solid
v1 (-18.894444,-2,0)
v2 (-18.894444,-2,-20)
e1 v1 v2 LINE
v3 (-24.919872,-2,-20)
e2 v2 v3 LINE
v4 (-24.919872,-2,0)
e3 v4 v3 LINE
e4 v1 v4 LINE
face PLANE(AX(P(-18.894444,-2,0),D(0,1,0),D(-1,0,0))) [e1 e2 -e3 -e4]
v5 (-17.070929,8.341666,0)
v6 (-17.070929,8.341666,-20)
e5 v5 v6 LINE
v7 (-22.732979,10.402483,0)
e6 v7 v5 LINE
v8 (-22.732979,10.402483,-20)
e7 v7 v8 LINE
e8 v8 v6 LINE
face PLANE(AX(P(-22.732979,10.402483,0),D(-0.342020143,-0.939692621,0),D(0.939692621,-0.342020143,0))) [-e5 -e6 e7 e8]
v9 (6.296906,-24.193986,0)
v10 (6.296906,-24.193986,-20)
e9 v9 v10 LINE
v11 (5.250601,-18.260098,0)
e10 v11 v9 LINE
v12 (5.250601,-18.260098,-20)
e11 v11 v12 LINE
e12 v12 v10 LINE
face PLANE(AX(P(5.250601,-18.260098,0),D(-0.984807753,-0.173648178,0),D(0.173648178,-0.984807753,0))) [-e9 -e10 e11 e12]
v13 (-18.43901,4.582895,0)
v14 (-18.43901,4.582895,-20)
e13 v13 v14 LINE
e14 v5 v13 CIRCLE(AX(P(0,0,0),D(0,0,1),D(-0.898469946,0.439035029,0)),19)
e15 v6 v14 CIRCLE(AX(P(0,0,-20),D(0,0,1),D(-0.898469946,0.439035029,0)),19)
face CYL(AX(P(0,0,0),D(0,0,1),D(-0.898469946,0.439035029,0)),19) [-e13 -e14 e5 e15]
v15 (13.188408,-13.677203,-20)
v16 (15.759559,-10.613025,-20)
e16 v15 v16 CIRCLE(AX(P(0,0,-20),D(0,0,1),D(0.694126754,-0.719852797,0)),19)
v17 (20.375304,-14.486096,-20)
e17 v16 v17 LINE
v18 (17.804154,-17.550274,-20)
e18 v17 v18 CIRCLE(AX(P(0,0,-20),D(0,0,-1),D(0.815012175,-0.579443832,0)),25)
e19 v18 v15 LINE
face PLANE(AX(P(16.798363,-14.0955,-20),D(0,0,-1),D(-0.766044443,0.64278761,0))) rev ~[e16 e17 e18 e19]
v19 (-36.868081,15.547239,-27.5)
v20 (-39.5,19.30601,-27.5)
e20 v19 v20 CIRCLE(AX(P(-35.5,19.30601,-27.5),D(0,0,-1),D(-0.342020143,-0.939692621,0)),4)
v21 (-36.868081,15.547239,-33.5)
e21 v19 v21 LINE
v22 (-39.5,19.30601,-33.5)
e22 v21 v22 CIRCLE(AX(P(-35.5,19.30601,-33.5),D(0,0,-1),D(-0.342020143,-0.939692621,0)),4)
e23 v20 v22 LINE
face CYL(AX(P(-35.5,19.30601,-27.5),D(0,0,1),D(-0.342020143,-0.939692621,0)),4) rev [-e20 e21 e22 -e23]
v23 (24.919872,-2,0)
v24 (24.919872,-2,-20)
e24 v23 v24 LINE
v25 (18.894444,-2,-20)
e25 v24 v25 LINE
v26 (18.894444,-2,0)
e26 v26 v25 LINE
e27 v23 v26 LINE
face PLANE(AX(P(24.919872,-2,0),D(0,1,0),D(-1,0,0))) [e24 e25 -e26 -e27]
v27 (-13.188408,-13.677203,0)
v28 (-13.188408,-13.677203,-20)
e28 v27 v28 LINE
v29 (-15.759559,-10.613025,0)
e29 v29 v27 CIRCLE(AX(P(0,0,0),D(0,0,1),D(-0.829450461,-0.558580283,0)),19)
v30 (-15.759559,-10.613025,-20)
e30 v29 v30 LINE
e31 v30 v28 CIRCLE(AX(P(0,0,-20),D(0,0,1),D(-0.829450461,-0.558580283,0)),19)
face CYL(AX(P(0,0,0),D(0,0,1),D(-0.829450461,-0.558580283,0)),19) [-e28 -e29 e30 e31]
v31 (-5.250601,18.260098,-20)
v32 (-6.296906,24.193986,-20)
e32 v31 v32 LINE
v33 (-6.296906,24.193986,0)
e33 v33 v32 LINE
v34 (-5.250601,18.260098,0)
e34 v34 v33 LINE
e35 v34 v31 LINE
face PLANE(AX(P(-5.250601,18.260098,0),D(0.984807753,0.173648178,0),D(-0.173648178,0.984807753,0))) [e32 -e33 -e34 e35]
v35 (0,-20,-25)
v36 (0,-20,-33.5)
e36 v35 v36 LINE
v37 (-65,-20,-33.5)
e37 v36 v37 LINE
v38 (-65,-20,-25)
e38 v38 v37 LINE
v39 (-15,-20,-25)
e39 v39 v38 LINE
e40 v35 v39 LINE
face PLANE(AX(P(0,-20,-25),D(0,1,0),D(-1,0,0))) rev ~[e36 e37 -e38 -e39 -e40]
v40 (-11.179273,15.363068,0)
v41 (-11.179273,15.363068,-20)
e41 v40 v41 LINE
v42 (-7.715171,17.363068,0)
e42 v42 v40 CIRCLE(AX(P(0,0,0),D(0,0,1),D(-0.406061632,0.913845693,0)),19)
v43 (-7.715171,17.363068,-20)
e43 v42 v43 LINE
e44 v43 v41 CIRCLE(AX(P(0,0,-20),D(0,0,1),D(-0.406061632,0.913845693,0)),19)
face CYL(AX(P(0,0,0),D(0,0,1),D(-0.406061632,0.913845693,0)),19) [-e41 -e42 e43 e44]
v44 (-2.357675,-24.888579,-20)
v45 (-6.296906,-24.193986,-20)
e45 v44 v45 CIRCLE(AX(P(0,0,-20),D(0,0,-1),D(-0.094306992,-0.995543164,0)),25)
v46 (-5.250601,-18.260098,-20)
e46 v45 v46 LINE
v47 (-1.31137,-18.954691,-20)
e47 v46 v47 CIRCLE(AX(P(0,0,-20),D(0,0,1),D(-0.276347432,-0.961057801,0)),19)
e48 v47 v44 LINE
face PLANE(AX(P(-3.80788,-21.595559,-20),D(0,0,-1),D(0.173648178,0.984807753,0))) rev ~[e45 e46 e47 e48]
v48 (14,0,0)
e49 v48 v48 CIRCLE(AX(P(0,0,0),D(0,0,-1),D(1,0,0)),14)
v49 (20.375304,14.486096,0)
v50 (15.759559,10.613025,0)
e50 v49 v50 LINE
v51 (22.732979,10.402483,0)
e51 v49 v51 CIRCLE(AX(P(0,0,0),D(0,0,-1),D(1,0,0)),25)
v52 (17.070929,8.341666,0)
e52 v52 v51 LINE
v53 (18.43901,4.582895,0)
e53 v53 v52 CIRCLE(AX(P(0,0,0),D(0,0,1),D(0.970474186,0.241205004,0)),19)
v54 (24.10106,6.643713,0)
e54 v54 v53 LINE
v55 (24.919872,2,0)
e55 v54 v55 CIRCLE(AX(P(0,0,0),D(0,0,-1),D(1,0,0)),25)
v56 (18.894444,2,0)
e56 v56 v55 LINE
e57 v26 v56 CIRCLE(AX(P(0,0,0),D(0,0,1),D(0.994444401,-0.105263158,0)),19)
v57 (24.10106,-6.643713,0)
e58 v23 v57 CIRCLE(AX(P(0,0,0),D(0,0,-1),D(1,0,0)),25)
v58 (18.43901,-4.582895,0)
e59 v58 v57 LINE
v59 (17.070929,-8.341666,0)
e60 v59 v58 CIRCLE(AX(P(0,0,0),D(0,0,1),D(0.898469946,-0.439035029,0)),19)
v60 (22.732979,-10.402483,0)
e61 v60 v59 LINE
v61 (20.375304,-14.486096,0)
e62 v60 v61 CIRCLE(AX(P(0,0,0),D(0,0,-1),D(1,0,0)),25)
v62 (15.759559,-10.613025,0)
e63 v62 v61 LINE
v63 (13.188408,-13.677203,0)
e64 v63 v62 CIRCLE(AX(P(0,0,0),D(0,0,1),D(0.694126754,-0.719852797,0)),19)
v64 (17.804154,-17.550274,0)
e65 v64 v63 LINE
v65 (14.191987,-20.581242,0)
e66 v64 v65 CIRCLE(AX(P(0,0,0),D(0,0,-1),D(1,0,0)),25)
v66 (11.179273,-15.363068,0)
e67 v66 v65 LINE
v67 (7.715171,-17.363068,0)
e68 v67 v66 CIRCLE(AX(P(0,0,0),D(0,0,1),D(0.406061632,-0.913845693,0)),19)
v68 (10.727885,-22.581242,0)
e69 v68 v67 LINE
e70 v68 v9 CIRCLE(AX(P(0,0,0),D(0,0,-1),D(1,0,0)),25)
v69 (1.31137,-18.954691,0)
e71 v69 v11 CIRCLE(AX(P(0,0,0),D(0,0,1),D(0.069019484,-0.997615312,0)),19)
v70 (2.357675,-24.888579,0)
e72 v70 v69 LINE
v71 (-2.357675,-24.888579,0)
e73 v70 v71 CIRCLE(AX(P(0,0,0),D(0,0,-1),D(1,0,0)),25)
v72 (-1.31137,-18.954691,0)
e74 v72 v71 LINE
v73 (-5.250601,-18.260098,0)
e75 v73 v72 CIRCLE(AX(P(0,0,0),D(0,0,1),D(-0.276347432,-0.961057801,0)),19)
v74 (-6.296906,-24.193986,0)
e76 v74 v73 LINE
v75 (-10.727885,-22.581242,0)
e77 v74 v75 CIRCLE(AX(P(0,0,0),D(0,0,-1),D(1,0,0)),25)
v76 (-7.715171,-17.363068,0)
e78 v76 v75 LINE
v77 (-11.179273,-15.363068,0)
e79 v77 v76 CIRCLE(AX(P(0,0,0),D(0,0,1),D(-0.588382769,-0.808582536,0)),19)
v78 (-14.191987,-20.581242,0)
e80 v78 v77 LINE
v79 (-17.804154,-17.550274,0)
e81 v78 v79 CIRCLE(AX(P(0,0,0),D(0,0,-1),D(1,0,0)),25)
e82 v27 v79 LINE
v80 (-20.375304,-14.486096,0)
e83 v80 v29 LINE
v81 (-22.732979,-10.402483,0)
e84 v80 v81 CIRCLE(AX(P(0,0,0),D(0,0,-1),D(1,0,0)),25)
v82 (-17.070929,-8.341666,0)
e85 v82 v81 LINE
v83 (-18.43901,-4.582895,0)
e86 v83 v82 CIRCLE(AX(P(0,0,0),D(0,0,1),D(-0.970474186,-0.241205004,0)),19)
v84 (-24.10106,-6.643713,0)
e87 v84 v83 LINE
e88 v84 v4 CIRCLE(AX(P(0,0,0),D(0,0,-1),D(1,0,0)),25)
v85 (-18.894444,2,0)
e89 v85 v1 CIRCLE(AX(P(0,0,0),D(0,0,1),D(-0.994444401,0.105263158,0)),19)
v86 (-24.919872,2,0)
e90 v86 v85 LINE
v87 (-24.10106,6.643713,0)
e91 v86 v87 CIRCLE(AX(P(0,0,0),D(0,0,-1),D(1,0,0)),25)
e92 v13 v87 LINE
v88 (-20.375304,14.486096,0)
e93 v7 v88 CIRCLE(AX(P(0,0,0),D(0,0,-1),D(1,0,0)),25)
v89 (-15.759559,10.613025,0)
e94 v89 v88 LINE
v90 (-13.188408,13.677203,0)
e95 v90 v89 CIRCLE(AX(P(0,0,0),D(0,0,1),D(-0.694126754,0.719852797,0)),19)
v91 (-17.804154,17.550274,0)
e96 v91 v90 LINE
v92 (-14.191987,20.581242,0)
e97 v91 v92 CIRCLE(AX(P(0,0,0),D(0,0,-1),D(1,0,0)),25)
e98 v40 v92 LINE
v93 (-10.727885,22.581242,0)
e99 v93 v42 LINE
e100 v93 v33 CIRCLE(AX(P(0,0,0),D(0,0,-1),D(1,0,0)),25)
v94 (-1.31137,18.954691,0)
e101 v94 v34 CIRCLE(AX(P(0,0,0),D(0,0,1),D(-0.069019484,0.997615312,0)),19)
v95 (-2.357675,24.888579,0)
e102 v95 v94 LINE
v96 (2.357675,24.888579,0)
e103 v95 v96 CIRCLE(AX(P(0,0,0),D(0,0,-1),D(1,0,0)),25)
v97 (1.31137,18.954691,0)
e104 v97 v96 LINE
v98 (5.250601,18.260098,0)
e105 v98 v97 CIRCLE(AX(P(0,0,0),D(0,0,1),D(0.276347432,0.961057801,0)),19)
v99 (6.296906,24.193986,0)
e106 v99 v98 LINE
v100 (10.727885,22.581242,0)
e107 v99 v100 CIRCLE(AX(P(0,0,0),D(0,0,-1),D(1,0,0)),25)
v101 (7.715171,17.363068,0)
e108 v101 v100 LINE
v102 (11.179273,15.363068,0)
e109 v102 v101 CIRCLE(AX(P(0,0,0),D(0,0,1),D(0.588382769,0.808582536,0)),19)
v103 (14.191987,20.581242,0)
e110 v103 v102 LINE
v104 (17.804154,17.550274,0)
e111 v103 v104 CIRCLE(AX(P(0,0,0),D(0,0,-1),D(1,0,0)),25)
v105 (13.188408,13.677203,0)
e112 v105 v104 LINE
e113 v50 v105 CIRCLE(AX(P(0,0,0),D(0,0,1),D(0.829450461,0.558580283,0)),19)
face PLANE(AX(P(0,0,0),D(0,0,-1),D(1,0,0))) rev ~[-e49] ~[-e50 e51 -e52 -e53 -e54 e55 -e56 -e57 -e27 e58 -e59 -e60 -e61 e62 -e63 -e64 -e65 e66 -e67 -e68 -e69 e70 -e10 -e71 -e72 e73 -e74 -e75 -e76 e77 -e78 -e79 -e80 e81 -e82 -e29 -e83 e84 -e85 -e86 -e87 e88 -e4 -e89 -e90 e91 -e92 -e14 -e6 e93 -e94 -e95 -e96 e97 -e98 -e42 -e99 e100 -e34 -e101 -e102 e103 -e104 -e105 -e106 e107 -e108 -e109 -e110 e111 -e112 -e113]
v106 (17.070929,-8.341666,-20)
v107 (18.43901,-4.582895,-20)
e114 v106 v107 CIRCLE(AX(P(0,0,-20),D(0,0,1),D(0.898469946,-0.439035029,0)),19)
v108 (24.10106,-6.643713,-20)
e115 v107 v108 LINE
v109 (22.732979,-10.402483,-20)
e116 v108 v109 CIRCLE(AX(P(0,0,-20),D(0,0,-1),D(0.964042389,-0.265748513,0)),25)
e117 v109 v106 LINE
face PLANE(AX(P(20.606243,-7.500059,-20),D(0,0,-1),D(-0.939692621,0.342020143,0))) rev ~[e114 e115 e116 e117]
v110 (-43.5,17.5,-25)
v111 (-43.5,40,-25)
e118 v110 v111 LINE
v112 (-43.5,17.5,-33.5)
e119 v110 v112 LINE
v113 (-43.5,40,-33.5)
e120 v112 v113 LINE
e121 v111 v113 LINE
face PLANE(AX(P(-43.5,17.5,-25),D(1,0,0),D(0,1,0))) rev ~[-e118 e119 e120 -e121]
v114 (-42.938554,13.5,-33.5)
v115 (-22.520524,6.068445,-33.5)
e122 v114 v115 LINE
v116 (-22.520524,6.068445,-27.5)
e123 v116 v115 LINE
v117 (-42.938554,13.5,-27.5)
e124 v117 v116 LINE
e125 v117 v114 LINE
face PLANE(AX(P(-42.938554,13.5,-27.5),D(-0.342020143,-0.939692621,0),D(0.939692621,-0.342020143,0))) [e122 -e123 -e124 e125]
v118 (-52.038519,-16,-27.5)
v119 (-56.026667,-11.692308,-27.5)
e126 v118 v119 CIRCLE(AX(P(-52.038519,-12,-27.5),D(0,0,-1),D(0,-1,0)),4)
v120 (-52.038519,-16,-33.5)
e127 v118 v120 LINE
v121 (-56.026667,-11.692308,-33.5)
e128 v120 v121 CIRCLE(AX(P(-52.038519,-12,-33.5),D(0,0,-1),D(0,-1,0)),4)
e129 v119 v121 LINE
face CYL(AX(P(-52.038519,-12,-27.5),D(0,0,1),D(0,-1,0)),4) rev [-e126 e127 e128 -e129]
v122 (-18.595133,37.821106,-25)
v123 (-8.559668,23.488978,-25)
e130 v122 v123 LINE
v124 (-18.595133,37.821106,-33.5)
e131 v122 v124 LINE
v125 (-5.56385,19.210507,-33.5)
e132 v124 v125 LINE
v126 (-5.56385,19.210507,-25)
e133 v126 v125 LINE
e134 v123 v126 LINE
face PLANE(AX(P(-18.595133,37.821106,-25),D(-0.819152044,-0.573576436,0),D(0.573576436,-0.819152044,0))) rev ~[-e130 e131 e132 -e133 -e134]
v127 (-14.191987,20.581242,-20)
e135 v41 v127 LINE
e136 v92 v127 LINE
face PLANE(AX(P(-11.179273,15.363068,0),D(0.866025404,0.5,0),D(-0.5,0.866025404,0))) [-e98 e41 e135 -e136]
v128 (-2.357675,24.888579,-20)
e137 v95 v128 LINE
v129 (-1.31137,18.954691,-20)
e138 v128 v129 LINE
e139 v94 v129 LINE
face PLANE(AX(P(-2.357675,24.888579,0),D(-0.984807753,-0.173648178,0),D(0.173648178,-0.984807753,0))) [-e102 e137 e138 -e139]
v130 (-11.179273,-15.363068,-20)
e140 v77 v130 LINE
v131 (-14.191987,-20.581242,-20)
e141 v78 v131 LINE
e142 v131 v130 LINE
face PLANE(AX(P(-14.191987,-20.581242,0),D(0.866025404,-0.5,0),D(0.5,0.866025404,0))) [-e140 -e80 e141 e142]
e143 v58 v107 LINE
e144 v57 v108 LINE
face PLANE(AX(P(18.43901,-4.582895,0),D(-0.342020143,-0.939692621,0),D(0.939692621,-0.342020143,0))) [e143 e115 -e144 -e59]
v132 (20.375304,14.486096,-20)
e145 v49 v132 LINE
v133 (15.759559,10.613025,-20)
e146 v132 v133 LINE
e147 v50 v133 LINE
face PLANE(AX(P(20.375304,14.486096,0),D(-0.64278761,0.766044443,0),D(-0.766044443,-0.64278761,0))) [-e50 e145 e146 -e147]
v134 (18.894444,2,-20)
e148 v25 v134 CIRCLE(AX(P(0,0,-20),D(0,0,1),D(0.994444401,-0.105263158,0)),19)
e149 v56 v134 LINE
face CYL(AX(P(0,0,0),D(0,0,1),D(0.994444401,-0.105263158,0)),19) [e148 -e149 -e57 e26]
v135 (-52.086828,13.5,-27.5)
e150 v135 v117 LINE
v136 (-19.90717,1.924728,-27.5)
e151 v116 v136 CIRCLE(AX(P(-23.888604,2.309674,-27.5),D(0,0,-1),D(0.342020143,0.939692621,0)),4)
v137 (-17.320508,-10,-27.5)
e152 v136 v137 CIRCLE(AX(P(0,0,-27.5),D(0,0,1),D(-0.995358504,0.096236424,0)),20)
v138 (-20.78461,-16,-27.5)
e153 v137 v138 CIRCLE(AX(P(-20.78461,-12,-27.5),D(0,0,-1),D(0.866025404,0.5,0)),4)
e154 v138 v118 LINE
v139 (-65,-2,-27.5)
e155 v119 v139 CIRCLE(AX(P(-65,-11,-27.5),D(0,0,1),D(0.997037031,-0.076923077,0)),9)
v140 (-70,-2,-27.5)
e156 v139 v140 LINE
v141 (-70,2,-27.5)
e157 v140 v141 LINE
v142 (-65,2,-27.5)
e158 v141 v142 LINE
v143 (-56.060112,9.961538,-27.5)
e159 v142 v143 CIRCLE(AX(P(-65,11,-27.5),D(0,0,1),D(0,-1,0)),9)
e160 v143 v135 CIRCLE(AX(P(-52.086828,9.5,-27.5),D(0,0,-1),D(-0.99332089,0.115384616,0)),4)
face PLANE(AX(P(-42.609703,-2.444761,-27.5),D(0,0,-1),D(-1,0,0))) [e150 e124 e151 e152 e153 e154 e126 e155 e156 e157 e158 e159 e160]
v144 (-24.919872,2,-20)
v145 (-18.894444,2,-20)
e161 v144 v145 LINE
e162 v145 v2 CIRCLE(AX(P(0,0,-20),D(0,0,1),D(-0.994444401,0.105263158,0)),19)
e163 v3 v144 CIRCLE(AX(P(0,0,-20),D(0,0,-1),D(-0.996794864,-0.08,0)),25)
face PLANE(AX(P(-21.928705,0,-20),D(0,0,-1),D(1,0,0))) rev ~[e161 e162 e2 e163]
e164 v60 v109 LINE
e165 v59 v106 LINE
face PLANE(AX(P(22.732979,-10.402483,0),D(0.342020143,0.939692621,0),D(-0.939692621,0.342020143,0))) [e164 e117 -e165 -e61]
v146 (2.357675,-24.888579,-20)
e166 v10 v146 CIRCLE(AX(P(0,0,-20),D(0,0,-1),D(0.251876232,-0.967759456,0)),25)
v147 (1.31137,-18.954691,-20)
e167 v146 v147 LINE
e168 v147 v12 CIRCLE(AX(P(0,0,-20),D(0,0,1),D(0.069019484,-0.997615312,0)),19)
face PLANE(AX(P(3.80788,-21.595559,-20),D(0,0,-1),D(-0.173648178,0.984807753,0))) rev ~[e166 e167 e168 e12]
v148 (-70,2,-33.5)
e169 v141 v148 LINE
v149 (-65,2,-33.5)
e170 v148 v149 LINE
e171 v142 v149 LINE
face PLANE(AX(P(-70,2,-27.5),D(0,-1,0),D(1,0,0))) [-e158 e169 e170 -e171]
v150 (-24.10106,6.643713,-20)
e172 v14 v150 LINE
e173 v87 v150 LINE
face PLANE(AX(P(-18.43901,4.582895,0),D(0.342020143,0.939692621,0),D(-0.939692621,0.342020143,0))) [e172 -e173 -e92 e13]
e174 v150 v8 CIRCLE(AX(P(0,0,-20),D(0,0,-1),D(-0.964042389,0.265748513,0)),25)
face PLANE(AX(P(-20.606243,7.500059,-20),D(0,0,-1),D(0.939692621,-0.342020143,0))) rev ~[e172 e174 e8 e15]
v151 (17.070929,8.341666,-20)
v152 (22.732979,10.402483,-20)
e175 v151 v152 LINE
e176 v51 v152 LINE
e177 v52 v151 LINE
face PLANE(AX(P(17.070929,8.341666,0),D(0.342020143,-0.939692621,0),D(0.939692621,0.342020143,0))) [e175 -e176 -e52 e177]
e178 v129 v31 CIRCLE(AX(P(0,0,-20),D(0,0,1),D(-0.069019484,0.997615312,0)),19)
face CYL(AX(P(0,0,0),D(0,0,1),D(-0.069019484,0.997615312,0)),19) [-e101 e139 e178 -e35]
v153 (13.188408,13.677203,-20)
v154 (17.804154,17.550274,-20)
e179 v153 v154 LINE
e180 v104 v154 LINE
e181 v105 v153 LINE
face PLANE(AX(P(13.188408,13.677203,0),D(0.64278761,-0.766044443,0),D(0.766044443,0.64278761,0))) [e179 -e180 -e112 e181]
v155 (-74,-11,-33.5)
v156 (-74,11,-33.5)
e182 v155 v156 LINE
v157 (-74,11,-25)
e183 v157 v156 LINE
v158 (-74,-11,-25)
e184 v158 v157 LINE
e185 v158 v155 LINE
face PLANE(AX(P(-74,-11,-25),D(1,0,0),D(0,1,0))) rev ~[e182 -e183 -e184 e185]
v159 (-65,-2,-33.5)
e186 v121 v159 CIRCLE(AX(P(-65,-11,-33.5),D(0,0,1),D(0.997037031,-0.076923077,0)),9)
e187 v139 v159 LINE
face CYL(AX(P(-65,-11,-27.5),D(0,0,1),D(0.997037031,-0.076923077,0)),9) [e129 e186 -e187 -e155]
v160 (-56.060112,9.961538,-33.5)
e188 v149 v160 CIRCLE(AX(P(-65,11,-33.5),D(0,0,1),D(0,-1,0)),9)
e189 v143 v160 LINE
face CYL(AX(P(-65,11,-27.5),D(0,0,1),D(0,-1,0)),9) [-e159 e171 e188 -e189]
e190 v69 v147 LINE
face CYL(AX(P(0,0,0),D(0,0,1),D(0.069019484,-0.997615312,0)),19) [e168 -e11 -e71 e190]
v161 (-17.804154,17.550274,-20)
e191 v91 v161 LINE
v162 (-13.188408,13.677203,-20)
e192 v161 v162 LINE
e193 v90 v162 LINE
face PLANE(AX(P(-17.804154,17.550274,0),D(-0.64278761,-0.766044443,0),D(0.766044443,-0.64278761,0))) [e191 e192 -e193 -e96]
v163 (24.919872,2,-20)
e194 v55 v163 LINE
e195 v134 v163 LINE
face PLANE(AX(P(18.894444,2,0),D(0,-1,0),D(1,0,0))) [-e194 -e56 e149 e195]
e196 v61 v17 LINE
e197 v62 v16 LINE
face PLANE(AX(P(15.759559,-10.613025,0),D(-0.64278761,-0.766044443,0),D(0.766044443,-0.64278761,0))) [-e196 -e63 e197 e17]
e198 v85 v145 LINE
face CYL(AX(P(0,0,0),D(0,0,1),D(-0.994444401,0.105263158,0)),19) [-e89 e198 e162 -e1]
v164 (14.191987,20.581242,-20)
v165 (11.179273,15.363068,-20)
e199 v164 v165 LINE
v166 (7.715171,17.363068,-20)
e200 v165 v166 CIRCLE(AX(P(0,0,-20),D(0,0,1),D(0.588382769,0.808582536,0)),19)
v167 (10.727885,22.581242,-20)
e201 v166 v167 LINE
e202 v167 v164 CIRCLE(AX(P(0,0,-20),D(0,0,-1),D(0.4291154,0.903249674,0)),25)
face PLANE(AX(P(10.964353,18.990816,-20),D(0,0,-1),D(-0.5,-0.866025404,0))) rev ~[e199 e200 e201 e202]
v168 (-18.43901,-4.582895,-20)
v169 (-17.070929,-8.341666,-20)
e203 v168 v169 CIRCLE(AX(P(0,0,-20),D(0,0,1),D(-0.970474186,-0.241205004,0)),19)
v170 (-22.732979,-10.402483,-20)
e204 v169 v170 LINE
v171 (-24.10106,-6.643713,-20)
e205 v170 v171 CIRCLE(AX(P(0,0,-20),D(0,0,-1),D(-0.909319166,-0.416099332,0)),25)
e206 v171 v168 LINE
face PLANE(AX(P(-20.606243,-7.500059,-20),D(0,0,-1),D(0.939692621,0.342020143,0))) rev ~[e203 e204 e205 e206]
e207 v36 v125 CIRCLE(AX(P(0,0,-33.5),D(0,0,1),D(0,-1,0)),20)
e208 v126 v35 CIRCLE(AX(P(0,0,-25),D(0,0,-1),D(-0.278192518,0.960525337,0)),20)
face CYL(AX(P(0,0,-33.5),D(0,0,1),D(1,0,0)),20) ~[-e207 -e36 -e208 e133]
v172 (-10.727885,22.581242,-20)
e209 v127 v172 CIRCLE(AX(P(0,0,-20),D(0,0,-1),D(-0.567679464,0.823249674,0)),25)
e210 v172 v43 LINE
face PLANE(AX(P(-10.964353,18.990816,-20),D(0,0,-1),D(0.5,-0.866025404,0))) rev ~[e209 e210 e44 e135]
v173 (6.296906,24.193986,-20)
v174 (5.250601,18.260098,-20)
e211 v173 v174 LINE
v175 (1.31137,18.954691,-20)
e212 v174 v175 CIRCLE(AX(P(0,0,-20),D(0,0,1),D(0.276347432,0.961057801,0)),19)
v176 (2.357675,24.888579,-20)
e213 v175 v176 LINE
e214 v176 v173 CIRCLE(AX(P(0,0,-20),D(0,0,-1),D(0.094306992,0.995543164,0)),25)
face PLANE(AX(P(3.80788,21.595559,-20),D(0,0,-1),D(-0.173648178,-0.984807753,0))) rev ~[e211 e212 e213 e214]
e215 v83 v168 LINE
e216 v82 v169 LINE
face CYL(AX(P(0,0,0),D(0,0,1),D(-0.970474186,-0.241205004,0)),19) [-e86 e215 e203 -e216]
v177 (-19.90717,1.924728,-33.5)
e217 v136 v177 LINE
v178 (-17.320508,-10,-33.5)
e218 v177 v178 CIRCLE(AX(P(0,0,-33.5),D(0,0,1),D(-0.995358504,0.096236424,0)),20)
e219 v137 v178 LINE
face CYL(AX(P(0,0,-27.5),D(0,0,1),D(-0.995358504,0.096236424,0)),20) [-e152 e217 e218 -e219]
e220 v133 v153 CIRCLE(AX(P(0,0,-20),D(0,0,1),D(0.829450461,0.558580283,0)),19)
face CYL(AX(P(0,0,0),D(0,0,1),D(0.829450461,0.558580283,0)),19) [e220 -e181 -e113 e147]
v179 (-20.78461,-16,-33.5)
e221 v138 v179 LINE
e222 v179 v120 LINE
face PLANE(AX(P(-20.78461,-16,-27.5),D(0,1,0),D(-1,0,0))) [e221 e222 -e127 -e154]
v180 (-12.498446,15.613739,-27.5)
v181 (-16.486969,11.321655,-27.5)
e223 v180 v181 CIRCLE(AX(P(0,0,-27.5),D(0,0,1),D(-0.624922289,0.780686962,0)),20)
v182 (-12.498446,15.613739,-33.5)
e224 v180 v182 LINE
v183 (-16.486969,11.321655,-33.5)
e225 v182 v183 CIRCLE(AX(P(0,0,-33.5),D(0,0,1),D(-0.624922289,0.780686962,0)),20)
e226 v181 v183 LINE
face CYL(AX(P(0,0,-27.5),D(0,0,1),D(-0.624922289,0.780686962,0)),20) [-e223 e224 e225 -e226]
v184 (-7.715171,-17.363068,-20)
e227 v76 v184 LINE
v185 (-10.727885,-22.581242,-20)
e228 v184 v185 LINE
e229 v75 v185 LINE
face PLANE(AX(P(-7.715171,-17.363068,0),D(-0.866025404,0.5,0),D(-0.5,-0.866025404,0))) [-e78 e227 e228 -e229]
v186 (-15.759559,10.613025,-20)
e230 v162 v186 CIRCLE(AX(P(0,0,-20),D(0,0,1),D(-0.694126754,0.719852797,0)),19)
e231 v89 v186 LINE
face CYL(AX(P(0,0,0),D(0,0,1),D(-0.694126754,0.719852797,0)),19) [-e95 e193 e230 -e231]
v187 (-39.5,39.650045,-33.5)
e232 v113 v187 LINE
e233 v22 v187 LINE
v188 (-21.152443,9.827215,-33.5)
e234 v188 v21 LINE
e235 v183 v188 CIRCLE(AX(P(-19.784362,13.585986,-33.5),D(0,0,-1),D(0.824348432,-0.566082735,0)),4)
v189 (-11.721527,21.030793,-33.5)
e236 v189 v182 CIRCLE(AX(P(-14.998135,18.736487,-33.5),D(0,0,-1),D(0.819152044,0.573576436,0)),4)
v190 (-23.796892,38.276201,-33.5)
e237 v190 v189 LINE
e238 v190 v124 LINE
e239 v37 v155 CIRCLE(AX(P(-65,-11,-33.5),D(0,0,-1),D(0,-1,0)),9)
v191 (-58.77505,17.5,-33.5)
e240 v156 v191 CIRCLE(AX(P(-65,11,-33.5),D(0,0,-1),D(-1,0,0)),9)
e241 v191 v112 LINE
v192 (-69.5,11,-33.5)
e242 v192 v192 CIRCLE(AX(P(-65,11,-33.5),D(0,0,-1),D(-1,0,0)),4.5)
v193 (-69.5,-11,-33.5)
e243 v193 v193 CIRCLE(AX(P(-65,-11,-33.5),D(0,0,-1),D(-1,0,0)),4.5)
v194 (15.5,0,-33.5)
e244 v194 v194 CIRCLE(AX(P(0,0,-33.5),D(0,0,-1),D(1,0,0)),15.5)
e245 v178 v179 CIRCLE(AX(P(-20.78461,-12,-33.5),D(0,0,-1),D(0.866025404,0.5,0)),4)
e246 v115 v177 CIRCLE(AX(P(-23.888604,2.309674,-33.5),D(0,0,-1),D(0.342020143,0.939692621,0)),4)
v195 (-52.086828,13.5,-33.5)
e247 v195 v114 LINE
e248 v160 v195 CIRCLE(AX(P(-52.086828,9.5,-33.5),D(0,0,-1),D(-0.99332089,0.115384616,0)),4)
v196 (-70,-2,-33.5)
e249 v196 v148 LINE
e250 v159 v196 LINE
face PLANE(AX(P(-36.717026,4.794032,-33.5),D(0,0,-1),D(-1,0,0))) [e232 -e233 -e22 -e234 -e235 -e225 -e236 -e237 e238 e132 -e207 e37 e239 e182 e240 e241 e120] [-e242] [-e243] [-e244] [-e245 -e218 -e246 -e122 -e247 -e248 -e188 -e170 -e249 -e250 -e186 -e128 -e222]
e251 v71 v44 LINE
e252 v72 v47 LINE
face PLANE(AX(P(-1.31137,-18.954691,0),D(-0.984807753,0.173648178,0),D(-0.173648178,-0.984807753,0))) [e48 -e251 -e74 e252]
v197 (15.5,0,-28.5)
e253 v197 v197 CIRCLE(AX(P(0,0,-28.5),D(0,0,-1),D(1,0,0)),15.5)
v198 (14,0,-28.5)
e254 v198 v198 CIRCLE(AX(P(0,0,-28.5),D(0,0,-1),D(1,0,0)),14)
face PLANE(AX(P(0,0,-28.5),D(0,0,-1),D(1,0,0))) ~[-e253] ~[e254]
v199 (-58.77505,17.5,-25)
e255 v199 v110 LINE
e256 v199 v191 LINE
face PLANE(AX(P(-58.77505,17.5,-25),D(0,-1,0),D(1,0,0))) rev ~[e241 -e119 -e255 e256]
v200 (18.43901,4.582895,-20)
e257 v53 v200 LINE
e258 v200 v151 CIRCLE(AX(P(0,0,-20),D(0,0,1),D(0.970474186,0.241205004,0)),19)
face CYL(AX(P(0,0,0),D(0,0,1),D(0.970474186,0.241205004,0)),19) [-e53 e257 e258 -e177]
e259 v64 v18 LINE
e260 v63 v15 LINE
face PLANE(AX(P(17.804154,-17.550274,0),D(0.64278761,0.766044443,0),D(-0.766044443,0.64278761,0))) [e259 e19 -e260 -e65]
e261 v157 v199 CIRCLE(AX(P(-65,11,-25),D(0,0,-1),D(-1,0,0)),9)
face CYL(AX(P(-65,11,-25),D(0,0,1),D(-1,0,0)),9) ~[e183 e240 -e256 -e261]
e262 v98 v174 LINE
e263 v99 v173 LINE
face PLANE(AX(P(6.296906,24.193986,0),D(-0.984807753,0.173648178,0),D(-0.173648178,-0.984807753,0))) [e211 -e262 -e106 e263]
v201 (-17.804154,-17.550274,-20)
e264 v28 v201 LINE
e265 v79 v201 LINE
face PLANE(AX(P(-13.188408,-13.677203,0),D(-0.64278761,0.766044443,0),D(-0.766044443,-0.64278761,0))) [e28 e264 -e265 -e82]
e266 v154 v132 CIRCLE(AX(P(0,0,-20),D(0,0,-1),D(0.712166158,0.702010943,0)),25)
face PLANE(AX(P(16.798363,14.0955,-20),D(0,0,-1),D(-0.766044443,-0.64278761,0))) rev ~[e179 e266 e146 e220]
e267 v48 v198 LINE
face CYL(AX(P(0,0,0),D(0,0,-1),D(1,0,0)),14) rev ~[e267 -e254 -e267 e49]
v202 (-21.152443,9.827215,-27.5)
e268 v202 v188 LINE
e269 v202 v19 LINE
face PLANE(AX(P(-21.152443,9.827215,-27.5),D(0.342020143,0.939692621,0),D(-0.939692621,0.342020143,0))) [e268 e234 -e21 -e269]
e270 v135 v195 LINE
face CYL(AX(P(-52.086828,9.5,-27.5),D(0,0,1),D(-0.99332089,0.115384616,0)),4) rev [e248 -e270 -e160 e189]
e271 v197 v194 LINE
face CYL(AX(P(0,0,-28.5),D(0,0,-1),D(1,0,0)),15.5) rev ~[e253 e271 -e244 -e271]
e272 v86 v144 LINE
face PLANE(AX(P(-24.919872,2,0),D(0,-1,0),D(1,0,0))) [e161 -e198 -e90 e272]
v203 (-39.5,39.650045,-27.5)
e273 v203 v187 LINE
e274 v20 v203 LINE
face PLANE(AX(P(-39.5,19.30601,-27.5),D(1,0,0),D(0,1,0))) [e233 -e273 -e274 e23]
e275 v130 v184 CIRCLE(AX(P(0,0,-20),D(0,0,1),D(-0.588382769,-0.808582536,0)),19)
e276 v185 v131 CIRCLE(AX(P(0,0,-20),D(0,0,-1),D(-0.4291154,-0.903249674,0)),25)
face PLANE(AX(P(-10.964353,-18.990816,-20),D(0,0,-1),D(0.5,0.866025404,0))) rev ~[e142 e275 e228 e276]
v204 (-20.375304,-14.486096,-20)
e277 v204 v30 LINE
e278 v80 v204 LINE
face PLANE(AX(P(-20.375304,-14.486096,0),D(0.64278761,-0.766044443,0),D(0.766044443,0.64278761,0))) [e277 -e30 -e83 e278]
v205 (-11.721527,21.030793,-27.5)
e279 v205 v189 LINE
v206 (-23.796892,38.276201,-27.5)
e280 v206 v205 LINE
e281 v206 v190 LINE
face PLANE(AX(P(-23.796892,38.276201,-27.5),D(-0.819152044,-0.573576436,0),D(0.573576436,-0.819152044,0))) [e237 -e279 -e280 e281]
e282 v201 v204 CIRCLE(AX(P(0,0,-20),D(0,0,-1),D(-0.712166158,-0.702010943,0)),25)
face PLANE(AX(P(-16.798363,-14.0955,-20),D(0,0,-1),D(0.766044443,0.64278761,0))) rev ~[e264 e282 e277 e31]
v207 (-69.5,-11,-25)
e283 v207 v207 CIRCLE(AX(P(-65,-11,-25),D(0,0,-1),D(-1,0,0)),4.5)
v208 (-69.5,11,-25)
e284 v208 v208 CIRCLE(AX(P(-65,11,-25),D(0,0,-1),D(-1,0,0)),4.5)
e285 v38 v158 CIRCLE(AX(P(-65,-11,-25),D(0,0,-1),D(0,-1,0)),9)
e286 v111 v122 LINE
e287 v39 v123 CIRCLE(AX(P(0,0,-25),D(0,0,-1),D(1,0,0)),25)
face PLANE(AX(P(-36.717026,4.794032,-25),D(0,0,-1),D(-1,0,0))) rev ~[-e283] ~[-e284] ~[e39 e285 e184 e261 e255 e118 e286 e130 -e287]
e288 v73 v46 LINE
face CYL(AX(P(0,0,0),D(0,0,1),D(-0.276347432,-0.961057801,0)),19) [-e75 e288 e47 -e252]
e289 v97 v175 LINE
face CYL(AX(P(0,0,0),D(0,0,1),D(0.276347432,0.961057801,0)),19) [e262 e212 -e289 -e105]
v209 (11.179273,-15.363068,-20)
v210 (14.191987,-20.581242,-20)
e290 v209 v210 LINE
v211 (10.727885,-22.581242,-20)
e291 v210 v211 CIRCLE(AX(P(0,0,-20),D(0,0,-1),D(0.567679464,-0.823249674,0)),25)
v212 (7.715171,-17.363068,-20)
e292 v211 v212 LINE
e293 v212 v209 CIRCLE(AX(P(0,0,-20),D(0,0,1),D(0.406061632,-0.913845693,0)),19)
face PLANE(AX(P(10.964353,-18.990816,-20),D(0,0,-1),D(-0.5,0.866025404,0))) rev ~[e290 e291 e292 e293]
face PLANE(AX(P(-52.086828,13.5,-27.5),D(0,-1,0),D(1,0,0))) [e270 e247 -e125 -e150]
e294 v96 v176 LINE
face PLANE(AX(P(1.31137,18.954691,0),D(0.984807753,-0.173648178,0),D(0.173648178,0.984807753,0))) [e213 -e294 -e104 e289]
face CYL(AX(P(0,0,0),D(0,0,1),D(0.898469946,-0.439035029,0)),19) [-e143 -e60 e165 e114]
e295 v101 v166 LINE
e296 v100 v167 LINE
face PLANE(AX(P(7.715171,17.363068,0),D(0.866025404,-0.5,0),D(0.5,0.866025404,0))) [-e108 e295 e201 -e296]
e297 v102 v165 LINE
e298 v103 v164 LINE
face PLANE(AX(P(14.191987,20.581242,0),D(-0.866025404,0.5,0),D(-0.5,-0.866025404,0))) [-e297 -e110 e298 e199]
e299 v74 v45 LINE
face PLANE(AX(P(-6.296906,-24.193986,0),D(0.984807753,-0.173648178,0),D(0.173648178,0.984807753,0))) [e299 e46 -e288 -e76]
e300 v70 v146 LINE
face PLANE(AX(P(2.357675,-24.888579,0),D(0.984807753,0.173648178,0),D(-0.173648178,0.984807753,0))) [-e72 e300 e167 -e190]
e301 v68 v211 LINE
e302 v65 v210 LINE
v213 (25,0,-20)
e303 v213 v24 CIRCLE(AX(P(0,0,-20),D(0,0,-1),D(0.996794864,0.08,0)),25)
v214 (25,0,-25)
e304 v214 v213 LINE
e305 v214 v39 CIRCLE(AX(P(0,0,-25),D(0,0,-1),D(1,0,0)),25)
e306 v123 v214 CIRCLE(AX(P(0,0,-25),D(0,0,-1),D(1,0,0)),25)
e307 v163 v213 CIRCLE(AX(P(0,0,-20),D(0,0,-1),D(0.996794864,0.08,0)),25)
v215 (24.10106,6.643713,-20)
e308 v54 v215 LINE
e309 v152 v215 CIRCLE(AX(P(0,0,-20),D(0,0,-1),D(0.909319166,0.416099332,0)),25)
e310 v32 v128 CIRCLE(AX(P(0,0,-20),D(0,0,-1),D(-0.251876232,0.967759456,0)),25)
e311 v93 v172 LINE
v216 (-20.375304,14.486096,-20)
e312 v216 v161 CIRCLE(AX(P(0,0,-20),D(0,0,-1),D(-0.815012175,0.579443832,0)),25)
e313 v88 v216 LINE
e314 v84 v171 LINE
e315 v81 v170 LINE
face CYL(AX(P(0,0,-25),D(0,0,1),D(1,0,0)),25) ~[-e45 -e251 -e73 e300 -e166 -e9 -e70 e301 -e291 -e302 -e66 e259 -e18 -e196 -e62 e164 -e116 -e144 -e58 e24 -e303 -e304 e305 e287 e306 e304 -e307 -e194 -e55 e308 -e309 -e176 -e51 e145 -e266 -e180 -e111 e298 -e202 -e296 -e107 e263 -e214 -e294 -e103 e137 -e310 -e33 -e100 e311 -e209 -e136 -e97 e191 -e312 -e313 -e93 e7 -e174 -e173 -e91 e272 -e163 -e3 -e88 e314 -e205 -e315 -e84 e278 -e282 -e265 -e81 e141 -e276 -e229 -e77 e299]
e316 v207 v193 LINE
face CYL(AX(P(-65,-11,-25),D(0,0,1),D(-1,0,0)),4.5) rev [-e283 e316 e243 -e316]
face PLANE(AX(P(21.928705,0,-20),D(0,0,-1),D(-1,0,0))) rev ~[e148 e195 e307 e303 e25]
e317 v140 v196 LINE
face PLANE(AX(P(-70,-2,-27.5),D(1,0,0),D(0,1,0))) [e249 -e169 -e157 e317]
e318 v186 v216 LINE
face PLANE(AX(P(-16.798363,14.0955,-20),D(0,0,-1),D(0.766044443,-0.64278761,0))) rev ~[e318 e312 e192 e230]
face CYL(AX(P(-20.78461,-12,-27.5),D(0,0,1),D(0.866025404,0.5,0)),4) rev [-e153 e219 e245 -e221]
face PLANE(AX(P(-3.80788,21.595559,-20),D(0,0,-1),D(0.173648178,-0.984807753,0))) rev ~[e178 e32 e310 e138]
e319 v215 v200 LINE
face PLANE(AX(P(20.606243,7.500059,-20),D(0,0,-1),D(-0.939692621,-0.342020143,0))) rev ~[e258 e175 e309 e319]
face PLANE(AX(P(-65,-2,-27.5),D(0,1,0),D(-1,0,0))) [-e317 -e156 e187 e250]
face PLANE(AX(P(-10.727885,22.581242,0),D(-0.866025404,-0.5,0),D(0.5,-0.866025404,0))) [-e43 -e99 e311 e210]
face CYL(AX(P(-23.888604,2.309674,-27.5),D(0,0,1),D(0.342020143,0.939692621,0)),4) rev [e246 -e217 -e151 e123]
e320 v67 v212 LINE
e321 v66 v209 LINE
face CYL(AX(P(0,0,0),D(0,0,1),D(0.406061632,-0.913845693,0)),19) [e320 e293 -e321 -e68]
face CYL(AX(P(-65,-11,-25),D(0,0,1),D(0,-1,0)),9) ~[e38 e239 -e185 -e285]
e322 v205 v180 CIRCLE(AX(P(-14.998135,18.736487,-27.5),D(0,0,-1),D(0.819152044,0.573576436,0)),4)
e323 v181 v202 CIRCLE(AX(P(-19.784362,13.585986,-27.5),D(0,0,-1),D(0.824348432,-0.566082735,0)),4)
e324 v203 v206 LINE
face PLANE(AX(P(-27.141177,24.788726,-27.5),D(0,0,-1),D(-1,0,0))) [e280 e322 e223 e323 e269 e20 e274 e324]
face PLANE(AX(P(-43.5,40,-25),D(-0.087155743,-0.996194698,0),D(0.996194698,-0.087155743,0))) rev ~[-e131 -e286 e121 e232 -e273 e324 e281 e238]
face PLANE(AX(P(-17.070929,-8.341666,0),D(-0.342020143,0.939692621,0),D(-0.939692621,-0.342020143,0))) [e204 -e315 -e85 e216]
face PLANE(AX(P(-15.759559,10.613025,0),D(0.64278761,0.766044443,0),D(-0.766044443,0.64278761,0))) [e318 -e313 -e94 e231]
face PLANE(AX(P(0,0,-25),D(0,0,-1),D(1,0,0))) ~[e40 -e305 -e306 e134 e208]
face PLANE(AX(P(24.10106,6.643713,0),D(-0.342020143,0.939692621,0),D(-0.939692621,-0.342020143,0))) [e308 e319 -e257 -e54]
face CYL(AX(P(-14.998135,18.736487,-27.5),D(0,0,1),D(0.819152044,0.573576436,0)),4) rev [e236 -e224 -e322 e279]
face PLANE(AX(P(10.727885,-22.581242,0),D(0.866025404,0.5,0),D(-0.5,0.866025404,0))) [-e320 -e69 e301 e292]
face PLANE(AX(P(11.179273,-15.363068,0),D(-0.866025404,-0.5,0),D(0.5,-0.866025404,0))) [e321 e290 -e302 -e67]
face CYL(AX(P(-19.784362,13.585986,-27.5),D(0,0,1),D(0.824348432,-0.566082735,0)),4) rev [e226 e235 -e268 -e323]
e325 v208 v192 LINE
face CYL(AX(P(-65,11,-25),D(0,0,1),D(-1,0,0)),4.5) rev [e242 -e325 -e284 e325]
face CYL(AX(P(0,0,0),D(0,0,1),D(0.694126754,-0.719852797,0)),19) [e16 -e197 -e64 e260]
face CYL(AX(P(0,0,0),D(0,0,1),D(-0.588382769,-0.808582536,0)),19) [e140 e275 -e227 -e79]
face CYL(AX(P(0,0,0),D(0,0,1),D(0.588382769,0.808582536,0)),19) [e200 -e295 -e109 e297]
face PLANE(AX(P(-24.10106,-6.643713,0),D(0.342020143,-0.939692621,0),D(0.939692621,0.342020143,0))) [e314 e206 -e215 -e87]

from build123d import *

# Parameters (mm, degrees)
CUT_EXTRUDE1_DEPTH  = 20
CIRPATTERN1_COUNT   = 18
BOSS_EXTRUDE1_START = -8.5
SKETCH3_R           = 4.5
BOSS_EXTRUDE1_DEPTH = 8.5
CUT_EXTRUDE2_START  = -6
CUT_EXTRUDE2_DEPTH  = 6


with BuildPart() as part:
    # Sketch1 → Revolve2 (revolve)
    with BuildSketch(Plane(origin=(0, 0, 0), x_dir=(1, 0, 0), z_dir=(0, 1, 0)), mode=Mode.PRIVATE) as revolve2_sk:
        Polygon((-25, 0), (-14, 0), (-14, 28.5), (-15.5, 28.5), (-15.5, 33.5), (-20, 33.5), (-20, 25), (-25, 25), align=None)
    revolve(revolve2_sk.sketch.rotate(Axis((0, 0, 0), (0, 0, -1)), 180), axis=Axis((0, 0, 0), (0, 0, -1)))

    # Sketch2 → Cut-Extrude1 (cut)
    with BuildSketch(Plane.XY):
        with BuildLine():
            Line((18.894443628, 2), (24.919871589, 2))
            ThreePointArc((24.919871589, 2), (25, 0), (24.919871589, -2))
            Line((24.919871589, -2), (18.894443628, -2))
            ThreePointArc((18.894443628, -2), (19, 0), (18.894443628, 2))
        make_face()
    cut_extrude1 = extrude(amount=-CUT_EXTRUDE1_DEPTH, mode=Mode.SUBTRACT)

    # CirPattern1: Cut-Extrude1 ×18 about axis
    cirpattern1_axis = Axis((0, 0, 0), (0, 0, 1))
    for i in range(1, CIRPATTERN1_COUNT):
        add(cut_extrude1.rotate(cirpattern1_axis, i * 360 / CIRPATTERN1_COUNT), mode=Mode.SUBTRACT)

    # Sketch3 → Boss-Extrude1 (add)
    with BuildSketch(Plane(origin=(0, 0, -33.5), x_dir=(-1, 0, 0), z_dir=(0, 0, -1)).offset(BOSS_EXTRUDE1_START)):
        with BuildLine():
            Line((0, -20), (65, -20))
            ThreePointArc((65, -20), (71.363961031, -17.363961031), (74, -11))
            Line((74, -11), (74, 11))
            ThreePointArc((74, 11), (68.53379766, 19.277214151), (58.775050201, 17.5))
            Line((58.775050201, 17.5), (43.5, 17.5))
            Line((43.5, 17.5), (43.5, 40))
            Line((43.5, 40), (18.595132548, 37.821106431))
            Line((18.595132548, 37.821106431), (5.563850354, 19.210506741))
            ThreePointArc((5.563850354, 19.210506741), (19.801643048, -2.809792268), (0, -20))
        make_face()
        with Locations((65, 11)):
            Circle(SKETCH3_R, mode=Mode.SUBTRACT)
        with Locations((65, -11)):
            Circle(SKETCH3_R, mode=Mode.SUBTRACT)
    extrude(amount=BOSS_EXTRUDE1_DEPTH)

    # Sketch6 → Cut-Extrude2 (cut)
    with BuildSketch(Plane(origin=(0, 0, -33.5), x_dir=(-1, 0, 0), z_dir=(0, 0, -1)).offset(CUT_EXTRUDE2_START)):
        with BuildLine():
            Line((20.784609691, -16), (52.038518603, -16))
            ThreePointArc((52.038518603, -16), (54.973716146, -14.717464882), (56.026666725, -11.692307692))
            ThreePointArc((56.026666725, -11.692307692), (58.395805529, -4.885704016), (65, -2))
            Line((65, -2), (70, -2))
            Line((70, -2), (70, 2))
            Line((70, 2), (65, 2))
            ThreePointArc((65, 2), (59.014440454, 4.278908056), (56.06011199, 9.961538462))
            ThreePointArc((56.06011199, 9.961538462), (54.747077117, 12.487151975), (52.08682843, 13.5))
            Line((52.08682843, 13.5), (42.938553963, 13.5))
            Line((42.938553963, 13.5), (22.520523512, 6.068444673))
            ThreePointArc((22.520523512, 6.068444673), (20.505273991, 4.44346834), (19.907170071, 1.924728492))
            ThreePointArc((19.907170071, 1.924728492), (19.545454521, -4.239717862), (17.320508076, -10))
            ThreePointArc((17.320508076, -10), (17.320508076, -14), (20.784609691, -16))
        make_face()
        with BuildLine():
            Line((23.79689183, 38.276201399), (11.721526755, 21.030792837))
            ThreePointArc((11.721526755, 21.030792837), (11.038650101, 18.16861398), (12.498445777, 15.613739243))
            ThreePointArc((12.498445777, 15.613739243), (14.650735805, 13.614548849), (16.486968638, 11.3216547))
            ThreePointArc((16.486968638, 11.3216547), (18.564157588, 9.776641825), (21.152442938, 9.827215157))
            Line((21.152442938, 9.827215157), (36.868080573, 15.547239468))
            ThreePointArc((36.868080573, 15.547239468), (38.776608177, 17.011704206), (39.5, 19.306009951))
            Line((39.5, 19.306009951), (39.5, 39.650045346))
            Line((39.5, 39.650045346), (23.79689183, 38.276201399))
        make_face()
    extrude(amount=CUT_EXTRUDE2_DEPTH, mode=Mode.SUBTRACT)


solid = part.part
